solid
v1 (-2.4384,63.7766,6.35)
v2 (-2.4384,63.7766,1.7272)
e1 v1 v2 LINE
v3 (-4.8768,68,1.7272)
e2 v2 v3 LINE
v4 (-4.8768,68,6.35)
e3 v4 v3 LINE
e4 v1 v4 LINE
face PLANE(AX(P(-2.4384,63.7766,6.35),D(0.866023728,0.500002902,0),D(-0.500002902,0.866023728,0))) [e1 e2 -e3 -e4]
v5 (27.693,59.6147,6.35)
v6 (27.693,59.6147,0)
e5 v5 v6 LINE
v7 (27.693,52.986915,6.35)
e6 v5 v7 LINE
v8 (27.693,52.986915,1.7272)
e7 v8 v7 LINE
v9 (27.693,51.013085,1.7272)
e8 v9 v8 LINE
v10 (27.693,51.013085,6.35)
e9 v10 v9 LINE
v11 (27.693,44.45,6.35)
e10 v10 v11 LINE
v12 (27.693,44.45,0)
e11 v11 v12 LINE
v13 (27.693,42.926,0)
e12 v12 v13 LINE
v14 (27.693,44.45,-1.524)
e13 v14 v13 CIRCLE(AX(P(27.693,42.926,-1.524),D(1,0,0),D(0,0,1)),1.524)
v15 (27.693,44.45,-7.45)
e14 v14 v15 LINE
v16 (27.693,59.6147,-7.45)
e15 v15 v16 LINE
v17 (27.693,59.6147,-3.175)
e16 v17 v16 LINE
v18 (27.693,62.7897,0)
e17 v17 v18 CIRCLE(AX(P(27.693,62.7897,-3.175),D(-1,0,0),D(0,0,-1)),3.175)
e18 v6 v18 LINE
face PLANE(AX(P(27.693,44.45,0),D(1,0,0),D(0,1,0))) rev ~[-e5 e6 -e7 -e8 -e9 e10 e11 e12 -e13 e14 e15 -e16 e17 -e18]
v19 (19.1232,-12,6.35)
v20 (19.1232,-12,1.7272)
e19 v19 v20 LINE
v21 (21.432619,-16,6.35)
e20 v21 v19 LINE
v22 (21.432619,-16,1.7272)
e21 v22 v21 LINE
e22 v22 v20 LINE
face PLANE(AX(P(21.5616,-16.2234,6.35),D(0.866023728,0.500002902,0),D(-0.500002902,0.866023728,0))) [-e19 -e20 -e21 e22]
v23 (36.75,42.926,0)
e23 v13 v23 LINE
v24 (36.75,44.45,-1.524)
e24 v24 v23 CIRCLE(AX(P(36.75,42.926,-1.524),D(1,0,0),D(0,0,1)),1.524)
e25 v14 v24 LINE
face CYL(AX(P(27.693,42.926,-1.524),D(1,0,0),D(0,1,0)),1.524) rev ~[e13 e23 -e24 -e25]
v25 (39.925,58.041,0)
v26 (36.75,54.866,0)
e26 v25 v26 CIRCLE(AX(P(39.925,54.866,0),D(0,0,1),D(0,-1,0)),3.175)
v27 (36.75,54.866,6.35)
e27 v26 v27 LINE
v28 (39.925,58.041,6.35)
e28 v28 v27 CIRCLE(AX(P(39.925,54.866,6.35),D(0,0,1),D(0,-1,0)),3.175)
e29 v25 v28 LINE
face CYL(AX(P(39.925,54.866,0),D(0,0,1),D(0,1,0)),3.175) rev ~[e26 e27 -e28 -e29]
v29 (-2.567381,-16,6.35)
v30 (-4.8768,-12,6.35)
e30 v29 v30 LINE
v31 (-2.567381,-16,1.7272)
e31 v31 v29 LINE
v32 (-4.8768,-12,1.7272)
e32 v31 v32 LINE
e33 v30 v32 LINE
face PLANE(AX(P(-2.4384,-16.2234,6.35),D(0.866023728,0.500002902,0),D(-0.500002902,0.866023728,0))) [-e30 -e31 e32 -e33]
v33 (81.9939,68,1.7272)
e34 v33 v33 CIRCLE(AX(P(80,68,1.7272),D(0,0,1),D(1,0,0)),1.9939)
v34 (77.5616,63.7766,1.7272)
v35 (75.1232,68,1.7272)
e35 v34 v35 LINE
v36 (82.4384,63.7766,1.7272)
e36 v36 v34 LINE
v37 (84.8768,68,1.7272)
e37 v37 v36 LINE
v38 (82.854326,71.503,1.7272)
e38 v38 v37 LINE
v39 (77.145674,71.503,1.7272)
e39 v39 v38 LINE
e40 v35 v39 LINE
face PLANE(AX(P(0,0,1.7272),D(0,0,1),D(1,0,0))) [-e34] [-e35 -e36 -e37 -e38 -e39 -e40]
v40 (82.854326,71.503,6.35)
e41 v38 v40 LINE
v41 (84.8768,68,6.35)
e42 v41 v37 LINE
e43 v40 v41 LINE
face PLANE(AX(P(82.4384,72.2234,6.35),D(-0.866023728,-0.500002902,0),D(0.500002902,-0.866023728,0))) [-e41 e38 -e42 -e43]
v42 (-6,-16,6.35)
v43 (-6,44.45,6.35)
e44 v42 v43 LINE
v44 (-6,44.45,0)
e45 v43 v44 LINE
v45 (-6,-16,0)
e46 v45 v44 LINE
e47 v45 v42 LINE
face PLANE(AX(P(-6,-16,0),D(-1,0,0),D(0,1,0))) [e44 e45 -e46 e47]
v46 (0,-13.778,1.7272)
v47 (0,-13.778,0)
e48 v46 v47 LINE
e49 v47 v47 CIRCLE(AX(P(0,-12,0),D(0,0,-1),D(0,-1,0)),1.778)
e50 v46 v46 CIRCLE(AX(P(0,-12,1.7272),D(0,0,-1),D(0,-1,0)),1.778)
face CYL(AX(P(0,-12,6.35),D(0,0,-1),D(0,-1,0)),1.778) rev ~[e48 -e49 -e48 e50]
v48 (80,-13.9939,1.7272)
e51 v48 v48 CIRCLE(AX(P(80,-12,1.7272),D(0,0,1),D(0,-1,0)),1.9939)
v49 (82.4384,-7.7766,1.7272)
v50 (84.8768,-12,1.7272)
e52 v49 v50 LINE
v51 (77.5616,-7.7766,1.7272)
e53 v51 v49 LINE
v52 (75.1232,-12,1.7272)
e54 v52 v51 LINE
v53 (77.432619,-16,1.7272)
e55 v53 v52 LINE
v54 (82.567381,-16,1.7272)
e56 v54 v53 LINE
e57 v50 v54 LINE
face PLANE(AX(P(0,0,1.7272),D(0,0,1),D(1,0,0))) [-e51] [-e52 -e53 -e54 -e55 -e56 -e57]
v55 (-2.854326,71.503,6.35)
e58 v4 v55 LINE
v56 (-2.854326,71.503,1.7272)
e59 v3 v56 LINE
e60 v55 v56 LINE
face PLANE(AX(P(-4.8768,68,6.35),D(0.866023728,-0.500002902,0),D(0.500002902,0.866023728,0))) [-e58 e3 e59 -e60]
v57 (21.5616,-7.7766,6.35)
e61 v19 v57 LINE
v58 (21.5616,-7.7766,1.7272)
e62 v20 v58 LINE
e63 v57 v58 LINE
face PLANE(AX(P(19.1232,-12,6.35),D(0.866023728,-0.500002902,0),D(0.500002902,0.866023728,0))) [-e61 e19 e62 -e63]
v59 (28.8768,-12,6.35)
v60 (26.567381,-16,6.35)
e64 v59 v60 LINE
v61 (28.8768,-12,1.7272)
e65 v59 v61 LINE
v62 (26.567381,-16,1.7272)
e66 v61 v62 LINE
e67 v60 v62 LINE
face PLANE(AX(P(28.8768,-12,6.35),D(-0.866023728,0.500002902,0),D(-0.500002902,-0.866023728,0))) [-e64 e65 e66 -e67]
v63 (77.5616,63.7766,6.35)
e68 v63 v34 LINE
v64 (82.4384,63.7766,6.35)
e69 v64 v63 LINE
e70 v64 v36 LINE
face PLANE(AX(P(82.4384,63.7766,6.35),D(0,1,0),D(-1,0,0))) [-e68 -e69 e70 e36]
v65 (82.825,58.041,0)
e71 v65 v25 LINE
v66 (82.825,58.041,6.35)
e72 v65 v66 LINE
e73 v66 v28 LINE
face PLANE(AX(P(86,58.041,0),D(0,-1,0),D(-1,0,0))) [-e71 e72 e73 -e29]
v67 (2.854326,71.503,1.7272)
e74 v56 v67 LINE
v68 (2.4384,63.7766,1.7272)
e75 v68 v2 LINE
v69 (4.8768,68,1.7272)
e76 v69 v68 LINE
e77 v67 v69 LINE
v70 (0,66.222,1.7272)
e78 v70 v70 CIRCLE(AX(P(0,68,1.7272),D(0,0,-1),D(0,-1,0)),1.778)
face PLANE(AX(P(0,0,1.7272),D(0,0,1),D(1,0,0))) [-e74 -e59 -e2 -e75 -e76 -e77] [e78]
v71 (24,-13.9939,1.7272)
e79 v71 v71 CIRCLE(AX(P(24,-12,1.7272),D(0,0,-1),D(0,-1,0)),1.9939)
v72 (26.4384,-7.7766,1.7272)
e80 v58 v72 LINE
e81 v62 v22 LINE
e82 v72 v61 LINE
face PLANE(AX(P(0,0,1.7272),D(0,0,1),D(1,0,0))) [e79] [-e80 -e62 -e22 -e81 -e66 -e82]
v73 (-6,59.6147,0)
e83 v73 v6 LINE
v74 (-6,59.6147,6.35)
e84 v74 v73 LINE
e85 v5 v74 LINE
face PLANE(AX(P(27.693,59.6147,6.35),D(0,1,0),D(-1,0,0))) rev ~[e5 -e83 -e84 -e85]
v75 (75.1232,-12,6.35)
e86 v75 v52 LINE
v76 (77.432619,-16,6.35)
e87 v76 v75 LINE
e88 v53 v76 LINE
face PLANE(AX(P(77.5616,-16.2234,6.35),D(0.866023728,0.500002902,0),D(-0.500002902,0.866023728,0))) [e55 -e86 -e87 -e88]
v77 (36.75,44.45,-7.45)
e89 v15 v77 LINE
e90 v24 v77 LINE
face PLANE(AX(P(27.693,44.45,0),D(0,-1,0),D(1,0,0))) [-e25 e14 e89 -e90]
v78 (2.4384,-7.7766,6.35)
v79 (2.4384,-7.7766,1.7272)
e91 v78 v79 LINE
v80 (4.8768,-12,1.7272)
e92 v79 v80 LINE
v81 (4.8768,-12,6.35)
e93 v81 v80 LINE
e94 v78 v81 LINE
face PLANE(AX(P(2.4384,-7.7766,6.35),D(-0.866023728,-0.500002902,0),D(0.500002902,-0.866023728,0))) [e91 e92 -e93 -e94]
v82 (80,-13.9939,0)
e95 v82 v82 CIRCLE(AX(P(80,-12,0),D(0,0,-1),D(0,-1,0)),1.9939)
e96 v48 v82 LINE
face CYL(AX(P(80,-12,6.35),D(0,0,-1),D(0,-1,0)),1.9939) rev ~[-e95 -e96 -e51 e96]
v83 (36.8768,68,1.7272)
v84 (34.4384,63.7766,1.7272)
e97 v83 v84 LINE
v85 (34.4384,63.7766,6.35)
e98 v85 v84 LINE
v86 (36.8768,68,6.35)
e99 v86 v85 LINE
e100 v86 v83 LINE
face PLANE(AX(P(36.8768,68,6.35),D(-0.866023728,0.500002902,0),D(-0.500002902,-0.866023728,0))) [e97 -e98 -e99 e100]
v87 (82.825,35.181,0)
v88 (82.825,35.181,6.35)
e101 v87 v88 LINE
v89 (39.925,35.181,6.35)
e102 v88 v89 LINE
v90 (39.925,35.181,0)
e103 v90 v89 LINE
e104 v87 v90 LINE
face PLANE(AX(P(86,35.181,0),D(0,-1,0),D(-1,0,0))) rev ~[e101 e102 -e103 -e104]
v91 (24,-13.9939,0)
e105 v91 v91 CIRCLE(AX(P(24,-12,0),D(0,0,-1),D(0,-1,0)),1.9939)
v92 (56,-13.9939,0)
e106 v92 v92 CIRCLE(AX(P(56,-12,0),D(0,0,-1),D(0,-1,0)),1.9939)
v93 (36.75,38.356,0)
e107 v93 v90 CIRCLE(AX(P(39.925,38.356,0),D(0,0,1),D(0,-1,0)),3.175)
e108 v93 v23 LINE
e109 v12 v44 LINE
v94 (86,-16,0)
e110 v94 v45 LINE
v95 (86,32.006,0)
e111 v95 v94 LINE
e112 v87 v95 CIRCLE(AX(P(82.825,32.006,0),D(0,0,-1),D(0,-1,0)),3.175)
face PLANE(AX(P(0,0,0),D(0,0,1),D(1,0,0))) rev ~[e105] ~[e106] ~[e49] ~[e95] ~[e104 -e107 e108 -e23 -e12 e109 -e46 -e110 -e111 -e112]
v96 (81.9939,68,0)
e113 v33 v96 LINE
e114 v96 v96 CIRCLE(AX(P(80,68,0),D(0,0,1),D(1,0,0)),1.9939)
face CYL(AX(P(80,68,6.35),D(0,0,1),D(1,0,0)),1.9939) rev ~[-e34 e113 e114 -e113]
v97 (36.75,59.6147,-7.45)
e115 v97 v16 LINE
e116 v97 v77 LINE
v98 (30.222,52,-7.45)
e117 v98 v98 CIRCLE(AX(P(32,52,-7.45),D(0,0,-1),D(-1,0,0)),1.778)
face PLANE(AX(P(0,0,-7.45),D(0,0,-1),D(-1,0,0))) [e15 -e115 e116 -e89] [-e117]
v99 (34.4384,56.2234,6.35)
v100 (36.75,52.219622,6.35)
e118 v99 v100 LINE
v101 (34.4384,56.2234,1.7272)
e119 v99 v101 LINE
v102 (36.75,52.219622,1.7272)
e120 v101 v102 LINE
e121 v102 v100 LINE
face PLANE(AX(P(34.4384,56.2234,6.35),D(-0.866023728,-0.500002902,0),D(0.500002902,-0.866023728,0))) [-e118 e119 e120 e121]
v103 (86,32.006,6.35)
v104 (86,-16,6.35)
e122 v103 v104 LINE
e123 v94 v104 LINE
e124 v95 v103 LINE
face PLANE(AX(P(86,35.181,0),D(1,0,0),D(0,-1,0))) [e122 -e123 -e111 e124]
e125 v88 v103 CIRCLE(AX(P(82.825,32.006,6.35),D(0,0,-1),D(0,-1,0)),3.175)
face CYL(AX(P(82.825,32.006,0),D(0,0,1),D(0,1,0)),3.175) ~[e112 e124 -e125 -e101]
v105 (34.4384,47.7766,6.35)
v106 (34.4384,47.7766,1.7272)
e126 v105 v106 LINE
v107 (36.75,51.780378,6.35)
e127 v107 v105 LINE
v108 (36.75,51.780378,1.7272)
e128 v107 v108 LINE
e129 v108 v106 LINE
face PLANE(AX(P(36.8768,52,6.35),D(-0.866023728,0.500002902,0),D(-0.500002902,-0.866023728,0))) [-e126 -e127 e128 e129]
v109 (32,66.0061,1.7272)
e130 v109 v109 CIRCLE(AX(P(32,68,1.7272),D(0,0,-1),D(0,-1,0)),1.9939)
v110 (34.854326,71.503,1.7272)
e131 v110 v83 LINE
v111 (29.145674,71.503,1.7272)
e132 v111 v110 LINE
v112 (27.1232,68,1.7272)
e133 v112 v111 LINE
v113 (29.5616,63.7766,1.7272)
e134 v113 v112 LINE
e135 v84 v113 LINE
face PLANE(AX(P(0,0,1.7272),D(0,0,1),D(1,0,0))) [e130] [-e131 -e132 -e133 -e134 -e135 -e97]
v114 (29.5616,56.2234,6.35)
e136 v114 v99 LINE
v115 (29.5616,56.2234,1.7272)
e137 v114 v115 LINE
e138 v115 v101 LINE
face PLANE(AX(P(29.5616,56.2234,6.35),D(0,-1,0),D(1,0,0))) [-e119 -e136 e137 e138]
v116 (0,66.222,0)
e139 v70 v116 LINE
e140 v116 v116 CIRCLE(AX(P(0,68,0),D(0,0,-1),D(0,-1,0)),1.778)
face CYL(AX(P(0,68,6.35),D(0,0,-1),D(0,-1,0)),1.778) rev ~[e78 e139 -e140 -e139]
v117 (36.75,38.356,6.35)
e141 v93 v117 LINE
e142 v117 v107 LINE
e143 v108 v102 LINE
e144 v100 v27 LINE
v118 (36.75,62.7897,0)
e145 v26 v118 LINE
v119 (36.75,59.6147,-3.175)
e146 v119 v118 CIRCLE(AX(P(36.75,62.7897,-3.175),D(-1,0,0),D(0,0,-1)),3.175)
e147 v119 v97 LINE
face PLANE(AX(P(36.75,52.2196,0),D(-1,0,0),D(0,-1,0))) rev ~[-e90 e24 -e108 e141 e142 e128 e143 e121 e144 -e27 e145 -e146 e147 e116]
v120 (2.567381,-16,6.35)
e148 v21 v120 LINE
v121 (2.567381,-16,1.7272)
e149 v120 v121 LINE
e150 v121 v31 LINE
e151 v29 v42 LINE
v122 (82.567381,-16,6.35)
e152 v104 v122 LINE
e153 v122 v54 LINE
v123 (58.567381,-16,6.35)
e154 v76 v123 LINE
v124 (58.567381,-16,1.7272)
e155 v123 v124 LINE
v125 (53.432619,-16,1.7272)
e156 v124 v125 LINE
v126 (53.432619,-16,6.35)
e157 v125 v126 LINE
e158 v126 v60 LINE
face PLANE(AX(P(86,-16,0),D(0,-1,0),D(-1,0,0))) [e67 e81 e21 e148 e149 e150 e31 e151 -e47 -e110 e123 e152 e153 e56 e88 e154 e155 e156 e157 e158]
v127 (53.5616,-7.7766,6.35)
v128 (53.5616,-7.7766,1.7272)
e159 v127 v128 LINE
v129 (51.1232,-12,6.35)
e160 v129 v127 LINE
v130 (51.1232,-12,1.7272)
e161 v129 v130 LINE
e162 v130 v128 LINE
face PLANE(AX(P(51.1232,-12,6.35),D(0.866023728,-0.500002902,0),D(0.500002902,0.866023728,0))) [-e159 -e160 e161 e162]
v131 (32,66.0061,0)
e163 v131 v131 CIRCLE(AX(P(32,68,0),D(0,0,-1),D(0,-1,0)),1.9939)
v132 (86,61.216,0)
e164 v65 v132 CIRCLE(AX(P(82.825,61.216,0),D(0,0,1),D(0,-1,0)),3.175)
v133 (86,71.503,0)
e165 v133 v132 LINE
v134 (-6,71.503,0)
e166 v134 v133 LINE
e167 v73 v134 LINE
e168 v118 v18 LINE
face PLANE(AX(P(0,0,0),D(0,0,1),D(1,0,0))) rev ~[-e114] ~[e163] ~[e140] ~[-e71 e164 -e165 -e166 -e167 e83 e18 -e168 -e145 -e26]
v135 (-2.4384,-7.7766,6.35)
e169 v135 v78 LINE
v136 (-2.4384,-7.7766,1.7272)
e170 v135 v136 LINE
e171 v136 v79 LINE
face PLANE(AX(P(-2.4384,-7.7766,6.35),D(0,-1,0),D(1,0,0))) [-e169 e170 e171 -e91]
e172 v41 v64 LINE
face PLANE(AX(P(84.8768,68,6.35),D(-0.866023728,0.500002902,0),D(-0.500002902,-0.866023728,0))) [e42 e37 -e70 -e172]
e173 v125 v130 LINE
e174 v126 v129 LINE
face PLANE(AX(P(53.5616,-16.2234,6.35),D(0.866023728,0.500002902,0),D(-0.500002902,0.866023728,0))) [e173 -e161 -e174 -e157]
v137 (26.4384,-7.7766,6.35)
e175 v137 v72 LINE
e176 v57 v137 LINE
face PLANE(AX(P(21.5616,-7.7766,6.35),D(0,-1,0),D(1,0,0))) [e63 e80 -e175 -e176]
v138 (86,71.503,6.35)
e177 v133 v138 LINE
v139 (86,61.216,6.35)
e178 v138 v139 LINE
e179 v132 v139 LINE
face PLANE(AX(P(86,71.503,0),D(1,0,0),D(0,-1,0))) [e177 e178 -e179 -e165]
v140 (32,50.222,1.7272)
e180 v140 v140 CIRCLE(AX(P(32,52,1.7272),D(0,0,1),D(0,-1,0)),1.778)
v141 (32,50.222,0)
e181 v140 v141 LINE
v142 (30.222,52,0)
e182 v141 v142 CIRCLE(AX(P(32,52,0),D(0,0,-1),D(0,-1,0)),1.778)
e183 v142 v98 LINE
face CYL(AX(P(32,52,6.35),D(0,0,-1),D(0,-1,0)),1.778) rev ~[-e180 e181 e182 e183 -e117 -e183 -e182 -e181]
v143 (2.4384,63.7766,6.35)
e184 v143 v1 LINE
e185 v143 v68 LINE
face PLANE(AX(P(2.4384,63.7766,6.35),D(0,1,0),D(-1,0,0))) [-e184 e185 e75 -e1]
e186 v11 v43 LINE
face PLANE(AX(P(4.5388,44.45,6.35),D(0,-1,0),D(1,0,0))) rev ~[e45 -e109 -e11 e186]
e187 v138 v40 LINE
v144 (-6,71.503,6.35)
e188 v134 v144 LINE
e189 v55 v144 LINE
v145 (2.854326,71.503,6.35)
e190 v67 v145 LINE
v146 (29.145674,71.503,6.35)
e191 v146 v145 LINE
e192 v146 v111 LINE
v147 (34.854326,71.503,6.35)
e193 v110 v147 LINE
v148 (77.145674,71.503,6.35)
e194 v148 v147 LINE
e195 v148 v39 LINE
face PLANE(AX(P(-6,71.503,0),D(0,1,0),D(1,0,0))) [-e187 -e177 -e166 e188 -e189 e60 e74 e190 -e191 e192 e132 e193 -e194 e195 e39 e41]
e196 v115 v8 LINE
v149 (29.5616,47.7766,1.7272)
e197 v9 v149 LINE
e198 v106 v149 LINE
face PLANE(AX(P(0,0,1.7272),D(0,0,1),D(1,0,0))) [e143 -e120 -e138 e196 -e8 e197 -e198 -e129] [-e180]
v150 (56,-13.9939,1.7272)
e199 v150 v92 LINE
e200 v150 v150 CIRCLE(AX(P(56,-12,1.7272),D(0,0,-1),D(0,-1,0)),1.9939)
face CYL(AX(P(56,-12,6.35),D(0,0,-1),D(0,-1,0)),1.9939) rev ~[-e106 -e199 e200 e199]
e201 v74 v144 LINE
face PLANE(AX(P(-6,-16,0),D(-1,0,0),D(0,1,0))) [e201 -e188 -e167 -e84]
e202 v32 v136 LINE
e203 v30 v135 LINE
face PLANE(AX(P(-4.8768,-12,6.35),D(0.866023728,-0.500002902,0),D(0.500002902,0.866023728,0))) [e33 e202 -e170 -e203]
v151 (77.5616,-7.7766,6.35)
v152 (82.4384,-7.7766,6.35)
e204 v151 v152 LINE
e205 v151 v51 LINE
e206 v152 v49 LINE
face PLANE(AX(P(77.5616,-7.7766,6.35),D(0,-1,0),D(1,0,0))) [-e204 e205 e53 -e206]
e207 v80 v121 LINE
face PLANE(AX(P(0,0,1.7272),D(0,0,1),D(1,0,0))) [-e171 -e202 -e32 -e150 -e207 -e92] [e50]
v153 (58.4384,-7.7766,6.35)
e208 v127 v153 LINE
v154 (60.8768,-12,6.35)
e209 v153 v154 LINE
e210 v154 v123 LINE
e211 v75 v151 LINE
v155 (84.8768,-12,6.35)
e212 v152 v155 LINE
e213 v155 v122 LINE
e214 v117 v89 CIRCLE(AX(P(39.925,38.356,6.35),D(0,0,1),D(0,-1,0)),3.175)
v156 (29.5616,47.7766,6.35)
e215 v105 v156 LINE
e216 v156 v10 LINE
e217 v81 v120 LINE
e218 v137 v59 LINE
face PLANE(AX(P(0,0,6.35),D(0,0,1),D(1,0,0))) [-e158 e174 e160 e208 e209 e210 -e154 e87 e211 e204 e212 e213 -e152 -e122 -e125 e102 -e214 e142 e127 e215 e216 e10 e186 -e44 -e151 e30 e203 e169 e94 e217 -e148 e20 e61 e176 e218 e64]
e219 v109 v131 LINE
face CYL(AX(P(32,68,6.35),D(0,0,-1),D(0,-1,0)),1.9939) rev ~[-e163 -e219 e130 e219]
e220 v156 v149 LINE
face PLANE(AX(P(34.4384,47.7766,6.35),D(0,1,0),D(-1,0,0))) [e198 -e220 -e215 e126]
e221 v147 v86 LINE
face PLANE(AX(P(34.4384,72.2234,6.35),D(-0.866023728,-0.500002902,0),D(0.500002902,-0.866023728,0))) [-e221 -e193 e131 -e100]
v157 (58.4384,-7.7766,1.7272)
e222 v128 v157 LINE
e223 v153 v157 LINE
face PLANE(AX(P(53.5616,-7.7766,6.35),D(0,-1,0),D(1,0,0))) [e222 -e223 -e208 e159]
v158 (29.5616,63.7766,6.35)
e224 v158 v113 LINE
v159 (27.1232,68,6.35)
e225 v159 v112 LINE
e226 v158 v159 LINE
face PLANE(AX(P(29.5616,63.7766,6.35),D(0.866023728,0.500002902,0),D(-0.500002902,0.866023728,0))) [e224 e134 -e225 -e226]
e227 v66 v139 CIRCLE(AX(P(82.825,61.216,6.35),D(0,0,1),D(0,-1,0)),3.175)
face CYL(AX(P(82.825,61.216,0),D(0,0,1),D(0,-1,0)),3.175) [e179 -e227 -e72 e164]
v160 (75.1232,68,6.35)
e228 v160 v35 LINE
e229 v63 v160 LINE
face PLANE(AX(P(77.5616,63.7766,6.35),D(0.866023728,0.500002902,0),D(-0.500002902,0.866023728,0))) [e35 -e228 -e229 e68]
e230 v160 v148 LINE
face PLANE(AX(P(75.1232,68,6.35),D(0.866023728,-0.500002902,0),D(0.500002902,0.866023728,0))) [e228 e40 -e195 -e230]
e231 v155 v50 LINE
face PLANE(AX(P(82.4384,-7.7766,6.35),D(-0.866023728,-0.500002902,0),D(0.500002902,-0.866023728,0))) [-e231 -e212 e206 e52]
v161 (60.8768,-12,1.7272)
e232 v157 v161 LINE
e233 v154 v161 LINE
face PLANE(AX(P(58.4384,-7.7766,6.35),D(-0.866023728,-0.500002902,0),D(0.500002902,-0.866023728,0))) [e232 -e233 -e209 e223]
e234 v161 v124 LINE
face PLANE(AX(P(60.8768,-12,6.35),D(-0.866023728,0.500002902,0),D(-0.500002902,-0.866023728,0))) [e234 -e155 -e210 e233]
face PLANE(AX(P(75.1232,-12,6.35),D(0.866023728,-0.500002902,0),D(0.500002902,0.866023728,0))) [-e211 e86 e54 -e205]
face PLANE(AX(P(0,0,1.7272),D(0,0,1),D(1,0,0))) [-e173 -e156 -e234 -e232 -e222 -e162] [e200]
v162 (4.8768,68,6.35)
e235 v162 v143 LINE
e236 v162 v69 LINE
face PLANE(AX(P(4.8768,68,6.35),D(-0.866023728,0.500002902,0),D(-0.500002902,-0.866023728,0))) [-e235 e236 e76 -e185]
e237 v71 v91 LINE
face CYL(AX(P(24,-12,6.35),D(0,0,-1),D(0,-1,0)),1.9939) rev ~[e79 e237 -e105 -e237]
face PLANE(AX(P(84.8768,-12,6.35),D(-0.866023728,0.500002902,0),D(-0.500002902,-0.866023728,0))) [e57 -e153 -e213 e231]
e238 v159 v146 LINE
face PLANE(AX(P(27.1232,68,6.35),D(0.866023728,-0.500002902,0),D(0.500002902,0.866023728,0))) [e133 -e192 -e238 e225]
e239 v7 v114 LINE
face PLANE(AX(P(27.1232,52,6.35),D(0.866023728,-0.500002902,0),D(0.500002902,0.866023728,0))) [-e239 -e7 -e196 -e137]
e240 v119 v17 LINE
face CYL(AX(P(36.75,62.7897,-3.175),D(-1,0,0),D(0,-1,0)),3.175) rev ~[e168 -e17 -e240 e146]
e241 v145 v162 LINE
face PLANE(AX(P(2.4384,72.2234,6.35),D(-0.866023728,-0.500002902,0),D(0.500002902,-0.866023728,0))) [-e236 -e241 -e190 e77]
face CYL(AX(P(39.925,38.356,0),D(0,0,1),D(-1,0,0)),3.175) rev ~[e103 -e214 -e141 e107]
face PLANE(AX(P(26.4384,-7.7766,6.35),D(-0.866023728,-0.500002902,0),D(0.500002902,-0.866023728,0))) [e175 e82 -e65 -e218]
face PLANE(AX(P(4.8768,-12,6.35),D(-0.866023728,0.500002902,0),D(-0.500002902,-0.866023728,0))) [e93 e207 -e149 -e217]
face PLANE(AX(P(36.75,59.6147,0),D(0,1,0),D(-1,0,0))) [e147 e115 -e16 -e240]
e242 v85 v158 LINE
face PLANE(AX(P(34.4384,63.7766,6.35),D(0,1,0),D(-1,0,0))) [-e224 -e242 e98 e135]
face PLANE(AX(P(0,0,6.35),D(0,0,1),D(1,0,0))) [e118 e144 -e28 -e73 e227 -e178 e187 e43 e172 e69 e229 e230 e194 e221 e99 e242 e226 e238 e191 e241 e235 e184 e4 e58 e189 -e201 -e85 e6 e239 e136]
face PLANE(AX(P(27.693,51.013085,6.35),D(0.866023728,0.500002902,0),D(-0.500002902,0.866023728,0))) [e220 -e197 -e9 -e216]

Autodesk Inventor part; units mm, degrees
ref_plane "YZ Plane" through (0, 0, 0) normal (1, 0, 0) x (0, 1, 0)
ref_plane "XZ Plane" through (0, 0, 0) normal (0, 1, 0) x (-1, 0, 0)
ref_plane "Work Plane1" through (0, 0, 0) normal (0, 0, 1) x (1, 0, 0)
sketch "Sketch1" plane through (0, 0, 0) normal (0, 0, 1) x (1, 0, 0)
  line L0 (86, -8) -> (86, -12) construction
  line L1 (116, -16) -> (-164, -16) construction
  line L2 (116, 72) -> (-164, 72) construction
  line L3 (-6, 68) -> (-6, 64) construction
  line L4 (86, -16) -> (-6, -16)
  line L5 (-6, -16) -> (-6, 71.503)
  line L6 (-6, 71.503) -> (36.75, 71.503)
  line L7 (86, 35.181) -> (86, -16)
  line L8 (58.1676, 40.25) -> (85.5305, 40.25) construction
  line L9 (36.75, 47.9255) -> (36.75, 56.0811) construction
  line L10 (86, 35.181) -> (36.75, 35.181)
  line L11 (36.75, 35.181) -> (36.75, 58.041)
  line L12 (36.75, 71.503) -> (86, 71.503)
  line L13 (86, 71.503) -> (86, 58.041)
  line L14 (86, 58.041) -> (36.75, 58.041)
  point P0 (0, 0)
  dimension "d0" = 87.503
  dimension "d71" = 13.462
extrude "Extrusion1" add sketch "Sketch1" along normal blind 6.35
sketch "Sketch3" plane through (0, 0, 6.35) normal (0, 0, 1) x (1, 0, 0)
  circle A0 centre (32, 68) radius 2 construction
  point P0 (0, 0)
hole "Hole2" at (32, 68, 6.35) direction (0, 0, -1) diameter 3.9878 end through all
sketch "Sketch4" plane through (0, 0, 6.35) normal (0, 0, 1) x (1, 0, 0)
  circle A0 centre (80, -12) radius 2 construction
  circle A1 centre (80, -12) radius 4.8768 construction
  circle A2 centre (0, -12) radius 2 construction
  circle A3 centre (0, 68) radius 2 construction
  circle A4 centre (32, 68) radius 2 construction
  circle A5 centre (0, -12) radius 4.8768 construction
  circle A6 centre (0, 68) radius 1.9939 construction
  circle A7 centre (0, 68) radius 4.8768 construction
  circle A8 centre (32, 68) radius 1.9939 construction
  circle A9 centre (32, 68) radius 4.8768 construction
  circle A10 centre (24, -12) radius 2 construction
  circle A11 centre (56, -12) radius 2 construction
  circle A12 centre (56, -12) radius 4.8768 construction
  circle A13 centre (24, -12) radius 4.8768 construction
  circle A14 centre (80, -12) radius 1.9939 projected
  line L0 (75.1232, -12) -> (77.5616, -7.7766)
  line L1 (77.5616, -7.7766) -> (82.4384, -7.7766)
  line L2 (82.4384, -7.7766) -> (84.8768, -12)
  line L3 (84.8768, -12) -> (82.4384, -16.2234)
  line L4 (82.4384, -16.2234) -> (77.5616, -16.2234)
  line L5 (77.5616, -16.2234) -> (75.1232, -12)
  line L6 (51.1232, -12) -> (53.5616, -7.7766)
  line L7 (53.5616, -7.7766) -> (58.4384, -7.7766)
  line L8 (58.4384, -7.7766) -> (60.8768, -12)
  line L9 (60.8768, -12) -> (58.4384, -16.2234)
  line L10 (58.4384, -16.2234) -> (53.5616, -16.2234)
  line L11 (53.5616, -16.2234) -> (51.1232, -12)
  line L12 (19.1232, -12) -> (21.5616, -7.7766)
  line L13 (21.5616, -7.7766) -> (26.4384, -7.7766)
  line L14 (26.4384, -7.7766) -> (28.8768, -12)
  line L15 (28.8768, -12) -> (26.4384, -16.2234)
  line L16 (26.4384, -16.2234) -> (21.5616, -16.2234)
  line L17 (21.5616, -16.2234) -> (19.1232, -12)
  line L18 (-4.8768, -12) -> (-2.4384, -7.7766)
  line L19 (-2.4384, -7.7766) -> (2.4384, -7.7766)
  line L20 (2.4384, -7.7766) -> (4.8768, -12)
  line L21 (4.8768, -12) -> (2.4384, -16.2234)
  line L22 (2.4384, -16.2234) -> (-2.4384, -16.2234)
  line L23 (-2.4384, -16.2234) -> (-4.8768, -12)
  line L24 (27.1232, 68) -> (29.5616, 72.2234)
  line L25 (29.5616, 72.2234) -> (34.4384, 72.2234)
  line L26 (34.4384, 72.2234) -> (36.8768, 68)
  line L27 (36.8768, 68) -> (34.4384, 63.7766)
  line L28 (34.4384, 63.7766) -> (29.5616, 63.7766)
  line L29 (29.5616, 63.7766) -> (27.1232, 68)
  line L30 (-4.8768, 68) -> (-2.4384, 72.2234)
  line L31 (-2.4384, 72.2234) -> (2.4384, 72.2234)
  line L32 (2.4384, 72.2234) -> (4.8768, 68)
  line L33 (4.8768, 68) -> (2.4384, 63.7766)
  line L34 (2.4384, 63.7766) -> (-2.4384, 63.7766)
  line L35 (-2.4384, 63.7766) -> (-4.8768, 68)
  point P0 (0, 0)
  dimension "d18" = 9.7536
  dimension "d21" = 9.7536
  dimension "d22" = 9.7536
  dimension "d23" = 9.7536
  dimension "d24" = 9.7536
  dimension "d25" = 9.7536
extrude "Extrusion2" cut sketch "Sketch4" against normal blind 4.6228
sketch "Sketch5" plane through (0, 0, 6.35) normal (0, 0, 1) x (1, 0, 0)
  circle A0 centre (56, -12) radius 2 construction
  circle A1 centre (24, -12) radius 2 construction
  point P0 (0, 0)
hole "Hole3" at (56, -12, 6.35) at (24, -12, 6.35) direction (0, 0, -1) diameter 3.9878 end through all
sketch "Sketch6" plane through (0, 0, 6.35) normal (0, 0, 1) x (1, 0, 0)
  circle A0 centre (32, 52) radius 1.8 construction
  line L0 (25.6709, 58.1897) -> (15.8763, 58.1897) construction
  line L1 (15.8763, 45.8103) -> (25.6716, 45.8103) construction
  line L2 (26.268, 46.528) -> (26.268, 49.5214) construction
  line L3 (5.9638, 51.1237) -> (5.9638, 48.0771) construction
  circle A1 centre (32, 52) radius 1.778
  circle A2 centre (32, 52) radius 4.8768 construction
  line L4 (27.1232, 52) -> (29.5616, 56.2234)
  line L5 (29.5616, 56.2234) -> (34.4384, 56.2234)
  line L6 (34.4384, 56.2234) -> (36.8768, 52)
  line L7 (36.8768, 52) -> (34.4384, 47.7766)
  line L8 (34.4384, 47.7766) -> (29.5616, 47.7766)
  line L9 (29.5616, 47.7766) -> (27.1232, 52)
  line L10 (26.268, 45.875) -> (5.9638, 45.875)
  line L11 (5.9638, 45.875) -> (5.9638, 58.1897)
  line L12 (5.9638, 58.1897) -> (26.268, 58.1897)
  line L13 (26.268, 58.1897) -> (26.268, 45.875)
  line L14 (4.5388, 44.45) -> (27.693, 44.45)
  line L15 (27.693, 44.45) -> (27.693, 59.6147)
  line L16 (27.693, 59.6147) -> (4.5388, 59.6147)
  line L17 (4.5388, 59.6147) -> (4.5388, 44.45)
  line L18 (27.693, 44.45) -> (4.5388, 44.45)
  line L19 (4.5388, 44.45) -> (4.5388, 59.6147)
  line L20 (4.5388, 59.6147) -> (27.693, 59.6147)
  line L21 (27.693, 59.6147) -> (27.693, 44.45)
  line L22 (-6, 71.503) -> (-6, -16) construction
  line L23 (4.5388, 59.6147) -> (-6, 59.6147)
  line L24 (-6, 59.6147) -> (-6, 44.45)
  line L25 (-6, 44.45) -> (4.5388, 44.45)
  line L26 (4.5388, 44.45) -> (4.5388, 59.6147)
  circle A3 centre (0, -12) radius 2 construction
  circle A4 centre (0, 68) radius 2 construction
  circle A5 centre (80, -12) radius 2 construction
  point P0 (0, 0)
  dimension "d36" = 9.7536
  dimension "d35" = 3.556
  dimension "d48" = 1.425
hole "Hole4" at (32, 52, 6.35) direction (0, 0, -1) diameter 3.556 end through all
extrude "Extrusion3" cut sketch "Sketch6" against normal blind 4.6228 contours L4 L15 L9 | L4 L5 L6 L7 L8 L9 L15
extrude "Extrusion4" cut sketch "Sketch6" against normal through all contours L10 L11 L12 L13
extrude "Extrusion5" cut sketch "Sketch6" against normal through all contours L9 L15 L14 L17 L16 L4 | L4 L15 L9
sketch "Sketch7" plane through (0, 0, 0) normal (0, 0, -1) x (-1, 0, 0)
  line L0 (-27.693, 59.6147) -> (-4.5388, 59.6147) projected
  line L1 (-4.5388, 59.6147) -> (-4.5388, 44.45) projected
  line L2 (-4.5388, 44.45) -> (-27.693, 44.45) projected
  line L3 (-27.693, 44.45) -> (-27.693, 59.6147) projected
  circle A0 centre (-32, 52) radius 1.778 projected
  circle A1 centre (-56, -12) radius 1.9939 projected
  circle A2 centre (-24, -12) radius 1.9939 projected
  circle A3 centre (-32, 68) radius 1.9939 projected
  line L4 (-86, -16) -> (6, -16) projected
  line L5 (6, -16) -> (6, 71.503) projected
  line L6 (6, 71.503) -> (-86, 71.503) projected
  line L7 (-36.75, 58.041) -> (-36.75, 35.181) projected
  line L8 (-36.75, 35.181) -> (-86, 35.181) projected
  line L9 (-86, 35.181) -> (-86, -16) projected
  line L10 (1.3245, 44.5) -> (-33.3311, 44.5) construction
  line L11 (-33.3245, 59.5) -> (1.3311, 59.5) construction
  line L12 (-27.693, 44.45) -> (-27.693, 59.6147) construction
  line L13 (-27.693, 44.45) -> (-4.5388, 44.45) projected
  line L14 (-36.75, 52.2196) -> (-36.75, 58.041) projected
  line L15 (-27.693, 44.45) -> (-36.75, 44.45)
  line L16 (-36.75, 44.45) -> (-36.75, 59.6147)
  line L17 (-36.75, 59.6147) -> (-27.693, 59.6147)
  line L18 (-27.693, 59.6147) -> (-27.693, 44.45)
  line L19 (-86, 71.503) -> (-86, 58.041) projected
  line L20 (-86, 58.041) -> (-36.75, 58.041) projected
  point P0 (0, 0)
  point P1 (-36.75, 67.7804)
ref_plane "Work Plane2" through (27.2145, 45.1271, -7.45) normal (0, 0, 1) x (1, 0, 0)
extrude "Extrusion6" add sketch "Sketch7" along normal up to surface (7.45 mm away) contours L3 L15 L7 L16 L17
sketch "Sketch8" plane through (-6, -16, 0) normal (-1, 0, 0) x (0, 0, 1)
  point P0 (0, 16)
extrude "Extrusion7" cut sketch "Sketch6" against normal through all contours L17 L25 L24 L23
hole "Hole5" at (80, -12, 6.35) at (0, -12, 6.35) at (0, 68, 6.35) direction (0, 0, -1) diameter 3.556 end through all
fillet "Fillet1" radius 1.524 1 edges at (32.2215, 44.45, 0)
fillet "Fillet2" radius 3.175 3 edges at (32.2215, 59.6147, 0) (36.75, 35.181, 3.175) (86, 35.181, 3.175)
hole "Hole6" at (80, -12, 6.35) direction (0, 0, -1) diameter 3.9878 end through all
fillet "Fillet3" radius 3.175 1 edges at (86, 58.041, 3.175)
fillet "Fillet4" radius 3.175 1 edges at (36.75, 58.041, 3.175)
sketch "Sketch9" plane through (0, 0, 6.35) normal (0, 0, 1) x (1, 0, 0)
  circle A0 centre (80, 68) radius 2 construction
  circle A1 centre (80, 68) radius 4.8768 construction
  line L0 (75.1232, 68) -> (77.5616, 72.2234)
  line L1 (77.5616, 72.2234) -> (82.4384, 72.2234)
  line L2 (82.4384, 72.2234) -> (84.8768, 68)
  line L3 (84.8768, 68) -> (82.4384, 63.7766)
  line L4 (82.4384, 63.7766) -> (77.5616, 63.7766)
  line L5 (77.5616, 63.7766) -> (75.1232, 68)
  circle A2 centre (80, 68) radius 1.9939
  point P0 (0, 0)
  dimension "d74" = 9.7536
  dimension "d75" = 3.9878
extrude "Extrusion8" cut sketch "Sketch9" against normal through all contours A2
sketch "Sketch10" plane through (0, 0, 6.35) normal (0, 0, 1) x (1, 0, 0)
  circle A0 centre (80, 68) radius 1.9939 construction
  circle A1 centre (80, 68) radius 4.8768 construction
  line L0 (75.1232, 68) -> (77.5616, 72.2234)
  line L1 (77.5616, 72.2234) -> (82.4384, 72.2234)
  line L2 (82.4384, 72.2234) -> (84.8768, 68)
  line L3 (84.8768, 68) -> (82.4384, 63.7766)
  line L4 (82.4384, 63.7766) -> (77.5616, 63.7766)
  line L5 (77.5616, 63.7766) -> (75.1232, 68)
  point P0 (0, 0)
  dimension "d78" = 9.7536
extrude "Extrusion9" cut sketch "Sketch10" against normal blind 4.6228
properties part number "SensorWall"
